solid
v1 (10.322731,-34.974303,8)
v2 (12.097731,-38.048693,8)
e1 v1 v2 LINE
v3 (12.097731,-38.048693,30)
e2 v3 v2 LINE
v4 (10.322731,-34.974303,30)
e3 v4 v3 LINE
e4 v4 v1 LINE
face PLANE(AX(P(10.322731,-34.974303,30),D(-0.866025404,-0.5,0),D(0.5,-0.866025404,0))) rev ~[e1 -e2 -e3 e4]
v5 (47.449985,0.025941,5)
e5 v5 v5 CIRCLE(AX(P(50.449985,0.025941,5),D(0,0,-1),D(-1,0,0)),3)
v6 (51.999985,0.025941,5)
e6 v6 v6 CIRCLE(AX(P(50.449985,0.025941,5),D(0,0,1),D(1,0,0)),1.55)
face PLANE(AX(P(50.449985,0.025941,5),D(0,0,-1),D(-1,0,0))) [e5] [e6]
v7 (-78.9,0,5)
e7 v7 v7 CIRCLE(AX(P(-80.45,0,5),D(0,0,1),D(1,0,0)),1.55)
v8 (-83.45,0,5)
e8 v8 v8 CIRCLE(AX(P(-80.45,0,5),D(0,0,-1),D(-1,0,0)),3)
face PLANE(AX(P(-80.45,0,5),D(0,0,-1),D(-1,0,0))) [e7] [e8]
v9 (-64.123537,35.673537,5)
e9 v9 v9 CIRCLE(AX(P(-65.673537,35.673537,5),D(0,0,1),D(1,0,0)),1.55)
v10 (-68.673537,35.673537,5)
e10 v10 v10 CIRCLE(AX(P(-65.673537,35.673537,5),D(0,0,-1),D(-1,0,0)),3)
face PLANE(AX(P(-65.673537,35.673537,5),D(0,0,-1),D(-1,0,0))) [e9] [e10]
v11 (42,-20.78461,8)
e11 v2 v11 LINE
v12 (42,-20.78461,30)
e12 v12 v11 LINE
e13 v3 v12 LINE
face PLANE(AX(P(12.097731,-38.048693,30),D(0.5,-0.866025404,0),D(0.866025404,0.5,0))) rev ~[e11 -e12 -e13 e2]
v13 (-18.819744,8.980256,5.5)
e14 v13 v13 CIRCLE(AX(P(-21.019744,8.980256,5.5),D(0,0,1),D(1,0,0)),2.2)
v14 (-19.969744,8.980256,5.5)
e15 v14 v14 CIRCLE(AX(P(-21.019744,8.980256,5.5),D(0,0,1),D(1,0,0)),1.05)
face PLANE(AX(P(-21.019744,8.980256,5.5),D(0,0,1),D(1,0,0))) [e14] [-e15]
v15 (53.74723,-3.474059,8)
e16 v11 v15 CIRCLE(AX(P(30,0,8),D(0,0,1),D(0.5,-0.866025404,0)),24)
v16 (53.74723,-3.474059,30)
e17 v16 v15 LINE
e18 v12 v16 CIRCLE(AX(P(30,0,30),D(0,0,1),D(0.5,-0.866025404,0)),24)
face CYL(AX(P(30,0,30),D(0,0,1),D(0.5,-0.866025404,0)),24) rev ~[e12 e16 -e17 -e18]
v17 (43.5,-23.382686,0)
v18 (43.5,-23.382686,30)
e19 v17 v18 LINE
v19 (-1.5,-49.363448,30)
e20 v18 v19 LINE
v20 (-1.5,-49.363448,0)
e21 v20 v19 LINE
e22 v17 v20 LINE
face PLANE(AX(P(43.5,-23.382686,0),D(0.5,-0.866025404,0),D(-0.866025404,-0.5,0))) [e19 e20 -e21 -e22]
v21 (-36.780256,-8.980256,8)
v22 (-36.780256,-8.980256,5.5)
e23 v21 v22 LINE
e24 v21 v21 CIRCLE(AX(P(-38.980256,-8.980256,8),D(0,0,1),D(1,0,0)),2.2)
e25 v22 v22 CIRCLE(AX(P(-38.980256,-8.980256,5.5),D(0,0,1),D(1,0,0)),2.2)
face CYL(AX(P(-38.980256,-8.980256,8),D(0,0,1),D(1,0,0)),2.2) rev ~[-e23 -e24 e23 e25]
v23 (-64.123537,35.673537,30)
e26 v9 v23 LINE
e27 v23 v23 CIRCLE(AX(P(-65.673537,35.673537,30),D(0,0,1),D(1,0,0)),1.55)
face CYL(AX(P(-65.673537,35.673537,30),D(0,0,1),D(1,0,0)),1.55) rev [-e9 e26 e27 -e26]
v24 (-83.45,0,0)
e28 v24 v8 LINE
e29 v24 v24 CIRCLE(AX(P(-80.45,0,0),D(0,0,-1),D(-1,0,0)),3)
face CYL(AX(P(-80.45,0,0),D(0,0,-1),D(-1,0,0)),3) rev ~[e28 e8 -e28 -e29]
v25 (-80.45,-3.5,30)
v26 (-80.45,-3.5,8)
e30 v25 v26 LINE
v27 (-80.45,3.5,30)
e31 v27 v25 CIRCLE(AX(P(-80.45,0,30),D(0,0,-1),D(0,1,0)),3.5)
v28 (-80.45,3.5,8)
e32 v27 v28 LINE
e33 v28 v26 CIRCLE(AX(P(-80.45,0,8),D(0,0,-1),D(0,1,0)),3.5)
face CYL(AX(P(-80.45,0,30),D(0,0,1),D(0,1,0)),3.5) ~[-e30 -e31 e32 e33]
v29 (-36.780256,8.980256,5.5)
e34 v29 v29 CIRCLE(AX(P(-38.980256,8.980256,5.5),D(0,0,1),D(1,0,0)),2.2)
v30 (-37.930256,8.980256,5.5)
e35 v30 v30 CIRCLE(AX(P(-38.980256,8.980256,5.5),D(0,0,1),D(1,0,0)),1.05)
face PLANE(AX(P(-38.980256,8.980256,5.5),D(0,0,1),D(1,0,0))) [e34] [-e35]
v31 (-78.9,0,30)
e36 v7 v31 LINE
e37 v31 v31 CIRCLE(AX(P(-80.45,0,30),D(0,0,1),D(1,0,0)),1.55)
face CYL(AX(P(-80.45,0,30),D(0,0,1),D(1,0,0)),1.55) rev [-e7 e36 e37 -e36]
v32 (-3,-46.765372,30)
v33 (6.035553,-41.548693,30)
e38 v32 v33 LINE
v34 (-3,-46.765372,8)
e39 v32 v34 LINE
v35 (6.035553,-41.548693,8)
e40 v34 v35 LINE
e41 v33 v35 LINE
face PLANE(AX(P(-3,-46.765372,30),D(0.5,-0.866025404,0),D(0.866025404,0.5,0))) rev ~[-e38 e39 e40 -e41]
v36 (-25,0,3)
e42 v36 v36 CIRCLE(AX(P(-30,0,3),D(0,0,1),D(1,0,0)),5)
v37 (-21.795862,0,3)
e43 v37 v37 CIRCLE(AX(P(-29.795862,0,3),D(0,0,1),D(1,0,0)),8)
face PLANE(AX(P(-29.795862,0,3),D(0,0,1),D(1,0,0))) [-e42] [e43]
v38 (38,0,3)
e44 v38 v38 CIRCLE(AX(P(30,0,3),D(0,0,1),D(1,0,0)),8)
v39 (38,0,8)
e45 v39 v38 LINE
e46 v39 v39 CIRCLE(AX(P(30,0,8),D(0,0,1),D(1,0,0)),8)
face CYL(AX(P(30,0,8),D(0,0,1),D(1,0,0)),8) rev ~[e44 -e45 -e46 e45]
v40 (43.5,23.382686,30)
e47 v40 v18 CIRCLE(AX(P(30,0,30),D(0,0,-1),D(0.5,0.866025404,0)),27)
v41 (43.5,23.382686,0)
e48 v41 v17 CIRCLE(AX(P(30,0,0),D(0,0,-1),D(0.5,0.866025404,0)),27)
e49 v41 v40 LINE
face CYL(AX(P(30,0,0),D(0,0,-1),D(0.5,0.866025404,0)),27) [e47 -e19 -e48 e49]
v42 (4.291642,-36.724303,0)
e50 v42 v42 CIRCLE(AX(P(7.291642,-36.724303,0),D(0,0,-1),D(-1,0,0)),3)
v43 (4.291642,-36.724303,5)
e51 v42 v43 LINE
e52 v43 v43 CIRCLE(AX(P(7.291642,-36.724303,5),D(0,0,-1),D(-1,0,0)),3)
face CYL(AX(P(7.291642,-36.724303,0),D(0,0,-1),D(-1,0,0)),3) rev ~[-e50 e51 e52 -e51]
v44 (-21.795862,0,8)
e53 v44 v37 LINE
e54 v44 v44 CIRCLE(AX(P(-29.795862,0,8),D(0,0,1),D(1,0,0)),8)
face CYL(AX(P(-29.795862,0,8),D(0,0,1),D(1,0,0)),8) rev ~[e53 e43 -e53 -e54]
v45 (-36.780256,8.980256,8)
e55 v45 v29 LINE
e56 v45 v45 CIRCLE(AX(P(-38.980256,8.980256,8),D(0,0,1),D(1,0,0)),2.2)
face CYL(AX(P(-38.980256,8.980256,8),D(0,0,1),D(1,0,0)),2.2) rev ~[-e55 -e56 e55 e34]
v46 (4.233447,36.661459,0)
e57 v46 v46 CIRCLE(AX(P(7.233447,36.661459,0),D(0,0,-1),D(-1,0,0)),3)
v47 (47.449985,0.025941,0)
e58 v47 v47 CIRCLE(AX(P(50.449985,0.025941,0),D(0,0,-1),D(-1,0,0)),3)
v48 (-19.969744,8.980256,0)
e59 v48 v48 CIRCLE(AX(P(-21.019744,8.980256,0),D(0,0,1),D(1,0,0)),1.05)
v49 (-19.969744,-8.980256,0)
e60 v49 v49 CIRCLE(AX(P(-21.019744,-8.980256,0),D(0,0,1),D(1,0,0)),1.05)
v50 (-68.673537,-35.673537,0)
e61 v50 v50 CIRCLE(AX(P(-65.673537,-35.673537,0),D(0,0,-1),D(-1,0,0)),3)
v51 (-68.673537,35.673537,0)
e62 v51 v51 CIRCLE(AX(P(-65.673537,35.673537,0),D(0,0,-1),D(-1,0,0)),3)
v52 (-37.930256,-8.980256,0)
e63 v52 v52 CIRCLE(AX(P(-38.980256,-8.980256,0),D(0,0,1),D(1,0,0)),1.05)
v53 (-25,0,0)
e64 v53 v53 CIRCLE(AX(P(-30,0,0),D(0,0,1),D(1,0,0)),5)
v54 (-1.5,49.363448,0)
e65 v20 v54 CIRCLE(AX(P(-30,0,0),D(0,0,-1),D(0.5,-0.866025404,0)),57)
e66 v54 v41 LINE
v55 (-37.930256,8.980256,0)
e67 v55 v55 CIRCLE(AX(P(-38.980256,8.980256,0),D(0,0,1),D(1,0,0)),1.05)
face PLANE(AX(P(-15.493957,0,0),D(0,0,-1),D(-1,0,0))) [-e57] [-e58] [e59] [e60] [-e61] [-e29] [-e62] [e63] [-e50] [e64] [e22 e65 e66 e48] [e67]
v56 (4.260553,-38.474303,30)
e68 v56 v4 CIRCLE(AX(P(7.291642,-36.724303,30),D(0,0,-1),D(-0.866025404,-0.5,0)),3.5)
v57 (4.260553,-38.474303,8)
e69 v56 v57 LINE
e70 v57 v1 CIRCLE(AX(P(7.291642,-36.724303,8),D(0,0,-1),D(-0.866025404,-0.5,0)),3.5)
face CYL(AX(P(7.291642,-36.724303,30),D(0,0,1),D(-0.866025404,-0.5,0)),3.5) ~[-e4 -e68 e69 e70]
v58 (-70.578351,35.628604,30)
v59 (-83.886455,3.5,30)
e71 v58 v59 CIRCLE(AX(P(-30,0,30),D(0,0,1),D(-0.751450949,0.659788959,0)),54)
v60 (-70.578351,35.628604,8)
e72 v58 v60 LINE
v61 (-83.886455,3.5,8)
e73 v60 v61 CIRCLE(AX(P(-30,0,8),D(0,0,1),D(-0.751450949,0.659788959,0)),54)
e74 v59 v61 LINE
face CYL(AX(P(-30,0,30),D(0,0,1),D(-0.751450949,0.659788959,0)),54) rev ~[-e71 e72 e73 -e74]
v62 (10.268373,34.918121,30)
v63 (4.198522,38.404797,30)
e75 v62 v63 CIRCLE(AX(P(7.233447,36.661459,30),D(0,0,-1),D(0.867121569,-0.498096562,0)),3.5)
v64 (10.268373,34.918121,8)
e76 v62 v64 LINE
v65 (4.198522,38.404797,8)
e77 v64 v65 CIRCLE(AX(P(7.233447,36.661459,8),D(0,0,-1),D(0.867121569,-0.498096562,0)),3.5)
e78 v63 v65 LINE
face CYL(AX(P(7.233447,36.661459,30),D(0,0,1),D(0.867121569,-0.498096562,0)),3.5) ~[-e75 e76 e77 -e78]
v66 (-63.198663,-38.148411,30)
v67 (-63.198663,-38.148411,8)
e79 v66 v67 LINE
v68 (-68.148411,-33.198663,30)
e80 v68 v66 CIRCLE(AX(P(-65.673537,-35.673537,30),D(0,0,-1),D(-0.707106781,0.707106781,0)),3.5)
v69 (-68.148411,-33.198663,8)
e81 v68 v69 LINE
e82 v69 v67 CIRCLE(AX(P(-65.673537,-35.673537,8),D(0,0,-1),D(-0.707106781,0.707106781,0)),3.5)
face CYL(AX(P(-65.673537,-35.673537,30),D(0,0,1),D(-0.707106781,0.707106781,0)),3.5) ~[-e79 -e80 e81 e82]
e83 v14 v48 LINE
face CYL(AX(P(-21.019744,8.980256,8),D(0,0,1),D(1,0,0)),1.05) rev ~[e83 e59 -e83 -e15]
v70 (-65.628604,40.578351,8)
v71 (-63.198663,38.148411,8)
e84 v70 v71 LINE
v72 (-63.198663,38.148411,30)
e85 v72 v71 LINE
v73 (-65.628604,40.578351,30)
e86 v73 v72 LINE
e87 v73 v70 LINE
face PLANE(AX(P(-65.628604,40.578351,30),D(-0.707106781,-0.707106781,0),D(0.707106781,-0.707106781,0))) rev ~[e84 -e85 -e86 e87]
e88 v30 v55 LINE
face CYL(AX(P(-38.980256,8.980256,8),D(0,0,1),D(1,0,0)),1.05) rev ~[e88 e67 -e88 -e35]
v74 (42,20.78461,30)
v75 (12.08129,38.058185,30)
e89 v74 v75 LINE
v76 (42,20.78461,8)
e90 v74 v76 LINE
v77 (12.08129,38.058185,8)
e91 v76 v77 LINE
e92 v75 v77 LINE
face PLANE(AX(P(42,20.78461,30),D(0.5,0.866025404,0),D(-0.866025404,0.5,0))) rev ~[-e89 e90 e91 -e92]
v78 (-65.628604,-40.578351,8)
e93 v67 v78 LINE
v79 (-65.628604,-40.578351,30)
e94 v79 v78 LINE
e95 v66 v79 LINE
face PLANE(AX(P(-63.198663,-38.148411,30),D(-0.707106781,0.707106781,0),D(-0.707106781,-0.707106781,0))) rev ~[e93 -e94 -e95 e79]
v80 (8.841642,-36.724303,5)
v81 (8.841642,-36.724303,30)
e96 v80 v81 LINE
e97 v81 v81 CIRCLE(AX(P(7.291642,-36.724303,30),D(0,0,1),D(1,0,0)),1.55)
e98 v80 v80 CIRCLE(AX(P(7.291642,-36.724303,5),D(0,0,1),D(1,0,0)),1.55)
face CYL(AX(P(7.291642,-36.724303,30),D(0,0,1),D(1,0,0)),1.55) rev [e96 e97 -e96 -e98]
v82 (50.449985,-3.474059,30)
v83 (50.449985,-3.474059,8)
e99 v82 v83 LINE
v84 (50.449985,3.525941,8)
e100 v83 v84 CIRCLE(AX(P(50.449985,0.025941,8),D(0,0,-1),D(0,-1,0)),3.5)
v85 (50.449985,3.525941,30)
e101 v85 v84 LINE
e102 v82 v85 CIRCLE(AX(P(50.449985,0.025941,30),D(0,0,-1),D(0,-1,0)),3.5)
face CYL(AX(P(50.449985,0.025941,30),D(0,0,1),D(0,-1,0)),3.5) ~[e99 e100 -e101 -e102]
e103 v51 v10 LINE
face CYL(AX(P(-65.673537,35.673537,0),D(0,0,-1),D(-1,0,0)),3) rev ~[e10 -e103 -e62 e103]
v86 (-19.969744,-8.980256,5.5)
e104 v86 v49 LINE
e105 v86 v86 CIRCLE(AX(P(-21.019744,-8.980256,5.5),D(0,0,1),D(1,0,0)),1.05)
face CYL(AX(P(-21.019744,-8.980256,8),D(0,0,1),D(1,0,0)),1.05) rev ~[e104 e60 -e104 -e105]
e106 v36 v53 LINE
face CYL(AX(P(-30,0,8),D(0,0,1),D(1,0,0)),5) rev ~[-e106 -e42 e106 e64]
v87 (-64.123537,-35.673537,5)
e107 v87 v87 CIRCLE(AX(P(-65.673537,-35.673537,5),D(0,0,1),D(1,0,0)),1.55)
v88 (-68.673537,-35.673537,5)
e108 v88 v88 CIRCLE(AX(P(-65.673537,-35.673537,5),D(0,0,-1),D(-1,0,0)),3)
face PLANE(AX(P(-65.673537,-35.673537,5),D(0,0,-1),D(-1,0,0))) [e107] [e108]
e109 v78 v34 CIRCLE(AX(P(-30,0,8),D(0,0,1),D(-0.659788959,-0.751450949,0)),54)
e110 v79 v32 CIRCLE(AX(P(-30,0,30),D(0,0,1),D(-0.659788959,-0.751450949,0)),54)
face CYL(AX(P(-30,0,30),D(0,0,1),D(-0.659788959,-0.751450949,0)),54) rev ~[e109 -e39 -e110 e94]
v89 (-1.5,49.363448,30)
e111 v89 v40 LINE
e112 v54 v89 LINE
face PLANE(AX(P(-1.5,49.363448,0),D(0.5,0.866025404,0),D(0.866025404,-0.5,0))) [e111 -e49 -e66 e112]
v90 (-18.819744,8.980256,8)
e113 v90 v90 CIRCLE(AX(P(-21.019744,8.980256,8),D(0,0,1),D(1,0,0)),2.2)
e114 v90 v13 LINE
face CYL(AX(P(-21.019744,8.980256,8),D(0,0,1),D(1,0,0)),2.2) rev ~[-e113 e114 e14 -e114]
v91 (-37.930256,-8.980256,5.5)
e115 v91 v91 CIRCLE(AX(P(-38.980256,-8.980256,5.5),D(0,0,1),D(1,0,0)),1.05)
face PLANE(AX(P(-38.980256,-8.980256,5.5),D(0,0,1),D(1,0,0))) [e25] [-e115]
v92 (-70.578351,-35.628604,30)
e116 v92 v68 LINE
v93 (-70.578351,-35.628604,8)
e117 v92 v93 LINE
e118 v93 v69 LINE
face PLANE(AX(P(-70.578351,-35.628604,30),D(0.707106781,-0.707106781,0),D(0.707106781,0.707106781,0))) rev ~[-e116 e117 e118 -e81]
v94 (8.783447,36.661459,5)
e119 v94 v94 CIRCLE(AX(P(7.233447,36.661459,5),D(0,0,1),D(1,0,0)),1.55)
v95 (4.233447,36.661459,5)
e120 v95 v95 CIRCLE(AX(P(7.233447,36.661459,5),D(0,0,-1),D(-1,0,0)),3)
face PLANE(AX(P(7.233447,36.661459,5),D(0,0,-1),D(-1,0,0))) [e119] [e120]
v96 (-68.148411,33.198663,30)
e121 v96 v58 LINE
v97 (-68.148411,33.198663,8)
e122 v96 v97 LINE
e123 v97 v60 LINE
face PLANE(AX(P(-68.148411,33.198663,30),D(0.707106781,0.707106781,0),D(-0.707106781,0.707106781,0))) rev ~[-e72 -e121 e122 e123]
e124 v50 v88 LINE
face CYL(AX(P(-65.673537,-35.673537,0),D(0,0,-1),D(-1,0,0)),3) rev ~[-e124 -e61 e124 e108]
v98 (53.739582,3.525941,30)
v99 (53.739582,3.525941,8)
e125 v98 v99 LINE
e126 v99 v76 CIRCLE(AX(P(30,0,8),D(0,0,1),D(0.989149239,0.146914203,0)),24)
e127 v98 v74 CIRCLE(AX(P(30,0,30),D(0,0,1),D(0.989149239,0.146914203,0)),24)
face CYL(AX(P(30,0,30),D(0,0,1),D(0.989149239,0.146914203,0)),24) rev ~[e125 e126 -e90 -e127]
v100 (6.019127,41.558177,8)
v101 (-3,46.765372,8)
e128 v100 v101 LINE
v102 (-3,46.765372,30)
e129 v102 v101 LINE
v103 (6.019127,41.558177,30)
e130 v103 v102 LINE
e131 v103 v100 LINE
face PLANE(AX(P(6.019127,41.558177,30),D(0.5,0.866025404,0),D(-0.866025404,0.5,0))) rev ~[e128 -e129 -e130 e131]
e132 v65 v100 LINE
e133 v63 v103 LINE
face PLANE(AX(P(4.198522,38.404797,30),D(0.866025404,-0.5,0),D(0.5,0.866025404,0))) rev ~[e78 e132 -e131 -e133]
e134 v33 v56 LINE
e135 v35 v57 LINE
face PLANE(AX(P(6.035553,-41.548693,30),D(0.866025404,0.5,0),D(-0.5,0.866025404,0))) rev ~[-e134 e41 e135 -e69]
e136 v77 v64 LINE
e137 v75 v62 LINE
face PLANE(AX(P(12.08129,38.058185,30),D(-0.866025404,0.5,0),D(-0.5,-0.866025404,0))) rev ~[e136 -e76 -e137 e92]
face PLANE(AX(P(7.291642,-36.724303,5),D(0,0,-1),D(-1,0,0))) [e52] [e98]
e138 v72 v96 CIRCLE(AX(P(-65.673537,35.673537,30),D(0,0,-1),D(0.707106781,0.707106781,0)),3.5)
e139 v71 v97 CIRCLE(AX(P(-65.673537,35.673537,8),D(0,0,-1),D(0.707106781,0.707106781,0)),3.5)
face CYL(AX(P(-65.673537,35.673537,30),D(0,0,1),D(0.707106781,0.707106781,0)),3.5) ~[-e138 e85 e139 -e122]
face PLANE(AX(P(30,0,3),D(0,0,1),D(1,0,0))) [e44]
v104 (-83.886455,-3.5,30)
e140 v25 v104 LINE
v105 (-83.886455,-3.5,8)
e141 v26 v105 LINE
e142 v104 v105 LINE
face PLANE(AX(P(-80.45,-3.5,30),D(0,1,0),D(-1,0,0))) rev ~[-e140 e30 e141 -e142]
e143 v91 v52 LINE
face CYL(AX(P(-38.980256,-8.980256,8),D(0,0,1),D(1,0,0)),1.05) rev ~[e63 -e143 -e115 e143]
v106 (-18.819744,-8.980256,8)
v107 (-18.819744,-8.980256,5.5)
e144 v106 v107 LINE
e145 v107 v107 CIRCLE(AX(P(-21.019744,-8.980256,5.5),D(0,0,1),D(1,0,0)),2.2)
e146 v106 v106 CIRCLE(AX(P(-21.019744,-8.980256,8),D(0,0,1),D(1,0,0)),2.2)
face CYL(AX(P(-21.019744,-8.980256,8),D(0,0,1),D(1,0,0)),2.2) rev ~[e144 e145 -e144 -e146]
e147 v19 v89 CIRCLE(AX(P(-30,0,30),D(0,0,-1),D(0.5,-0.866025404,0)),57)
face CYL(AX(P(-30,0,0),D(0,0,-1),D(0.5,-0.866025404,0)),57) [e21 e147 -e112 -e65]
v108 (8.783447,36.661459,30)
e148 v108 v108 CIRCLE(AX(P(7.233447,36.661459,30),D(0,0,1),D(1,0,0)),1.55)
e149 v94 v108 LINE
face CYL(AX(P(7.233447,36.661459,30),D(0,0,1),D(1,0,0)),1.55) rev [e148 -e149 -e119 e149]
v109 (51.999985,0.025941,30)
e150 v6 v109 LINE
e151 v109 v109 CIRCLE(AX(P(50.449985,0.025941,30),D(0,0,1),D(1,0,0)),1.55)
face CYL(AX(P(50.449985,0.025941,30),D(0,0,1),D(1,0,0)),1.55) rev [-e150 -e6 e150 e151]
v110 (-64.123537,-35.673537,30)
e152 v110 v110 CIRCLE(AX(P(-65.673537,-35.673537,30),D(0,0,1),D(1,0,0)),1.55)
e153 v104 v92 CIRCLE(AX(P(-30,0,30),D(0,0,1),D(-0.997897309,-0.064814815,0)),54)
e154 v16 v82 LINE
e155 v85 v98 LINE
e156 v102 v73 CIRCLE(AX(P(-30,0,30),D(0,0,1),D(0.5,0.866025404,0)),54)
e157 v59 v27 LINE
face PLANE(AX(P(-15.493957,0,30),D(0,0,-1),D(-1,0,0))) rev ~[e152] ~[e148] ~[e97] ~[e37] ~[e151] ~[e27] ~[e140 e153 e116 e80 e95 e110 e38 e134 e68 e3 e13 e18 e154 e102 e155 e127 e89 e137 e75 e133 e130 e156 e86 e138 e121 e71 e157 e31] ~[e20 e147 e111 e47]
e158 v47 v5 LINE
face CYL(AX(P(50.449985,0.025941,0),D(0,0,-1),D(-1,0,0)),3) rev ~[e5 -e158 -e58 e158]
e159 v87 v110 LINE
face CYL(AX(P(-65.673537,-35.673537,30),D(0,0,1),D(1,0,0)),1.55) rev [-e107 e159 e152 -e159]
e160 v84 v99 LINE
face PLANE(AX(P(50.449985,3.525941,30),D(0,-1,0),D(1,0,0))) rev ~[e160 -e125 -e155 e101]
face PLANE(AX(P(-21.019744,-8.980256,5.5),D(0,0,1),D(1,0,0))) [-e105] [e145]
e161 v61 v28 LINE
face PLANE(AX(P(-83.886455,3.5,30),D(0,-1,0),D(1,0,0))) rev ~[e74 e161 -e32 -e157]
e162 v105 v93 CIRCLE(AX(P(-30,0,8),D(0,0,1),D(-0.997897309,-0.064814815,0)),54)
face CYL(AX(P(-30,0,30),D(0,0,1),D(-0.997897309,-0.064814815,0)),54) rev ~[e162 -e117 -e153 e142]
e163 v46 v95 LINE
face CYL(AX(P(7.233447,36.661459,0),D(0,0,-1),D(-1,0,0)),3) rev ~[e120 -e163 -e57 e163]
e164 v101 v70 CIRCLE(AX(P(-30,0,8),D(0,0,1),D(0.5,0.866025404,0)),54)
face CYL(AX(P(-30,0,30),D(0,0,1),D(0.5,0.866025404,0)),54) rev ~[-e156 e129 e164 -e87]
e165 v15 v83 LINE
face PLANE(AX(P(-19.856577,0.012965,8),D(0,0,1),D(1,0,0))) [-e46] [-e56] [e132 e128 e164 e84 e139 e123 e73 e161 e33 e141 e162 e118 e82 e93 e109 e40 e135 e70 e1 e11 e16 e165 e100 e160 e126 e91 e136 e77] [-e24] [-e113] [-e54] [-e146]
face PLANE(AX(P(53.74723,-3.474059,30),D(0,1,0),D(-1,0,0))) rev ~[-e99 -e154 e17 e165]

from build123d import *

# Parameters (mm, degrees)
BOSS_EXTRUDE1_DEPTH = 30
SKETCH3_R           = 1.55
CUT_EXTRUDE1_DEPTH  = 22
CUT_EXTRUDE2_START  = -30
SKETCH5_R           = 1.55
CUT_EXTRUDE2_DEPTH  = 30
SKETCH6_R           = 3
CUT_EXTRUDE3_DEPTH  = 5
SKETCH7_R           = 8
CUT_EXTRUDE10_DEPTH = 5
SKETCH8_R           = 5
SKETCH8_R_2         = 1.05
CUT_EXTRUDE7_DEPTH  = 8
SKETCH9_R           = 2.2
CUT_EXTRUDE8_DEPTH  = 2.5


with BuildPart() as part:
    # Sketch1 → Boss-Extrude1 (new body)
    with BuildSketch(Plane.XY):
        with BuildLine():
            Line((-1.5, 49.363448016), (43.5, 23.382685902))
            ThreePointArc((43.5, 23.382685902), (57, 0), (43.5, -23.382685902))
            Line((43.5, -23.382685902), (-1.5, -49.363448016))
            ThreePointArc((-1.5, -49.363448016), (-87, 0), (-1.5, 49.363448016))
        make_face()
    extrude(amount=BOSS_EXTRUDE1_DEPTH)

    # Sketch3 → Cut-Extrude1 (cut)
    with BuildSketch(Plane.XY.offset(30)):
        with Locations((50.449984706, 0.025940866)):
            Circle(SKETCH3_R)
        with Locations((-80.45, 0)):
            Circle(SKETCH3_R)
        with Locations((-65.673537111, 35.673537111)):
            Circle(SKETCH3_R)
        with Locations((-65.673537111, -35.673537111)):
            Circle(SKETCH3_R)
        with Locations((7.233447448, 36.661458689)):
            Circle(SKETCH3_R)
        with Locations((7.291641994, -36.724302618)):
            Circle(SKETCH3_R)
        with BuildLine():
            Line((50.449984706, 3.525940866), (53.739581736, 3.525940866))
            ThreePointArc((53.739581736, 3.525940866), (49.844264614, 13.498339229), (42, 20.784609691))
            Line((42, 20.784609691), (12.081289905, 38.058185018))
            Line((12.081289905, 38.058185018), (10.268372938, 34.918120721))
            ThreePointArc((10.268372938, 34.918120721), (5.49010948, 33.626533199), (4.198521958, 38.404796657))
            Line((4.198521958, 38.404796657), (6.019126703, 41.558176575))
            Line((6.019126703, 41.558176575), (-3, 46.765371804))
            ThreePointArc((-3, 46.765371804), (-35.308766962, 53.738412643), (-65.628603797, 40.578351266))
            Line((-65.628603797, 40.578351266), (-63.198663377, 38.148410845))
            ThreePointArc((-63.198663377, 38.148410845), (-63.198663377, 33.198663377), (-68.148410845, 33.198663377))
            Line((-68.148410845, 33.198663377), (-70.578351266, 35.628603797))
            ThreePointArc((-70.578351266, 35.628603797), (-79.889494756, 20.664905348), (-83.886454699, 3.5))
            Line((-83.886454699, 3.5), (-80.45, 3.5))
            ThreePointArc((-80.45, 3.5), (-76.95, 0), (-80.45, -3.5))
            Line((-80.45, -3.5), (-83.886454699, -3.5))
            ThreePointArc((-83.886454699, -3.5), (-79.889494756, -20.664905348), (-70.578351266, -35.628603797))
            Line((-70.578351266, -35.628603797), (-68.148410845, -33.198663377))
            ThreePointArc((-68.148410845, -33.198663377), (-63.198663377, -33.198663377), (-63.198663377, -38.148410845))
            Line((-63.198663377, -38.148410845), (-65.628603797, -40.578351266))
            ThreePointArc((-65.628603797, -40.578351266), (-35.308766962, -53.738412643), (-3, -46.765371804))
            Line((-3, -46.765371804), (6.035553081, -41.548692801))
            Line((6.035553081, -41.548692801), (4.260553081, -38.474302618))
            ThreePointArc((4.260553081, -38.474302618), (5.541641994, -33.693213705), (10.322730907, -34.974302618))
            Line((10.322730907, -34.974302618), (12.097730907, -38.048692801))
            Line((12.097730907, -38.048692801), (42, -20.784609691))
            ThreePointArc((42, -20.784609691), (49.859000377, -13.476650327), (53.747229589, -3.474059134))
            Line((53.747229589, -3.474059134), (50.449984706, -3.474059134))
            ThreePointArc((50.449984706, -3.474059134), (46.949984706, 0.025940866), (50.449984706, 3.525940866))
        make_face()
    extrude(amount=-CUT_EXTRUDE1_DEPTH, mode=Mode.SUBTRACT)

    # Sketch5 → Cut-Extrude2 (cut)
    with BuildSketch(Plane(origin=(0, 0, 0), x_dir=(-1, 0, 0), z_dir=(0, 0, -1)).offset(CUT_EXTRUDE2_START)):
        with Locations(Location((65.673537111, 35.673537111, 0), (0, 0, 180))):
            Circle(SKETCH5_R)
        with Locations(Location((80.45, 0, 0), (0, 0, 180))):
            Circle(SKETCH5_R)
        with Locations(Location((-7.233447448, 36.661458689, 0), (0, 0, 180))):
            Circle(SKETCH5_R)
        with Locations(Location((-50.449984706, 0.025940866, 0), (0, 0, 180))):
            Circle(SKETCH5_R)
        with Locations(Location((-7.291641994, -36.724302618, 0), (0, 0, 180))):
            Circle(SKETCH5_R)
        with Locations(Location((65.673537111, -35.673537111, 0), (0, 0, 180))):
            Circle(SKETCH5_R)
    extrude(amount=CUT_EXTRUDE2_DEPTH, mode=Mode.SUBTRACT)

    # Sketch6 → Cut-Extrude3 (cut)
    with BuildSketch(Plane(origin=(0, 0, 0), x_dir=(-1, 0, 0), z_dir=(0, 0, -1))):
        with Locations((-50.449984706, 0.025940866)):
            Circle(SKETCH6_R)
        with Locations((-7.291641994, -36.724302618)):
            Circle(SKETCH6_R)
        with Locations((65.673537111, -35.673537111)):
            Circle(SKETCH6_R)
        with Locations((80.45, 0)):
            Circle(SKETCH6_R)
        with Locations((65.673537111, 35.673537111)):
            Circle(SKETCH6_R)
        with Locations((-7.233447448, 36.661458689)):
            Circle(SKETCH6_R)
    extrude(amount=-CUT_EXTRUDE3_DEPTH, mode=Mode.SUBTRACT)

    # Sketch7 → Cut-Extrude10 (cut)
    with BuildSketch(Plane.XY.offset(8)):
        with Locations((-29.795862437, 0)):
            Circle(SKETCH7_R)
        with Locations((30, 0)):
            Circle(SKETCH7_R)
    extrude(amount=-CUT_EXTRUDE10_DEPTH, mode=Mode.SUBTRACT)

    # Sketch8 → Cut-Extrude7 (cut)
    with BuildSketch(Plane.XY.offset(8)):
        with Locations((-30, 0)):
            Circle(SKETCH8_R)
        with Locations((-38.980256121, 8.980256121)):
            Circle(SKETCH8_R_2)
        with Locations((-21.019743879, 8.980256121)):
            Circle(SKETCH8_R_2)
        with Locations((-21.019743879, -8.980256121)):
            Circle(SKETCH8_R_2)
        with Locations((-38.980256121, -8.980256121)):
            Circle(SKETCH8_R_2)
    extrude(amount=-CUT_EXTRUDE7_DEPTH, mode=Mode.SUBTRACT)

    # Sketch9 → Cut-Extrude8 (cut)
    with BuildSketch(Plane.XY.offset(8)):
        with Locations((-38.980256121, 8.980256121)):
            Circle(SKETCH9_R)
        with Locations((-21.019743879, 8.980256121)):
            Circle(SKETCH9_R)
        with Locations((-21.019743879, -8.980256121)):
            Circle(SKETCH9_R)
        with Locations((-38.980256121, -8.980256121)):
            Circle(SKETCH9_R)
    extrude(amount=-CUT_EXTRUDE8_DEPTH, mode=Mode.SUBTRACT)


solid = part.part
